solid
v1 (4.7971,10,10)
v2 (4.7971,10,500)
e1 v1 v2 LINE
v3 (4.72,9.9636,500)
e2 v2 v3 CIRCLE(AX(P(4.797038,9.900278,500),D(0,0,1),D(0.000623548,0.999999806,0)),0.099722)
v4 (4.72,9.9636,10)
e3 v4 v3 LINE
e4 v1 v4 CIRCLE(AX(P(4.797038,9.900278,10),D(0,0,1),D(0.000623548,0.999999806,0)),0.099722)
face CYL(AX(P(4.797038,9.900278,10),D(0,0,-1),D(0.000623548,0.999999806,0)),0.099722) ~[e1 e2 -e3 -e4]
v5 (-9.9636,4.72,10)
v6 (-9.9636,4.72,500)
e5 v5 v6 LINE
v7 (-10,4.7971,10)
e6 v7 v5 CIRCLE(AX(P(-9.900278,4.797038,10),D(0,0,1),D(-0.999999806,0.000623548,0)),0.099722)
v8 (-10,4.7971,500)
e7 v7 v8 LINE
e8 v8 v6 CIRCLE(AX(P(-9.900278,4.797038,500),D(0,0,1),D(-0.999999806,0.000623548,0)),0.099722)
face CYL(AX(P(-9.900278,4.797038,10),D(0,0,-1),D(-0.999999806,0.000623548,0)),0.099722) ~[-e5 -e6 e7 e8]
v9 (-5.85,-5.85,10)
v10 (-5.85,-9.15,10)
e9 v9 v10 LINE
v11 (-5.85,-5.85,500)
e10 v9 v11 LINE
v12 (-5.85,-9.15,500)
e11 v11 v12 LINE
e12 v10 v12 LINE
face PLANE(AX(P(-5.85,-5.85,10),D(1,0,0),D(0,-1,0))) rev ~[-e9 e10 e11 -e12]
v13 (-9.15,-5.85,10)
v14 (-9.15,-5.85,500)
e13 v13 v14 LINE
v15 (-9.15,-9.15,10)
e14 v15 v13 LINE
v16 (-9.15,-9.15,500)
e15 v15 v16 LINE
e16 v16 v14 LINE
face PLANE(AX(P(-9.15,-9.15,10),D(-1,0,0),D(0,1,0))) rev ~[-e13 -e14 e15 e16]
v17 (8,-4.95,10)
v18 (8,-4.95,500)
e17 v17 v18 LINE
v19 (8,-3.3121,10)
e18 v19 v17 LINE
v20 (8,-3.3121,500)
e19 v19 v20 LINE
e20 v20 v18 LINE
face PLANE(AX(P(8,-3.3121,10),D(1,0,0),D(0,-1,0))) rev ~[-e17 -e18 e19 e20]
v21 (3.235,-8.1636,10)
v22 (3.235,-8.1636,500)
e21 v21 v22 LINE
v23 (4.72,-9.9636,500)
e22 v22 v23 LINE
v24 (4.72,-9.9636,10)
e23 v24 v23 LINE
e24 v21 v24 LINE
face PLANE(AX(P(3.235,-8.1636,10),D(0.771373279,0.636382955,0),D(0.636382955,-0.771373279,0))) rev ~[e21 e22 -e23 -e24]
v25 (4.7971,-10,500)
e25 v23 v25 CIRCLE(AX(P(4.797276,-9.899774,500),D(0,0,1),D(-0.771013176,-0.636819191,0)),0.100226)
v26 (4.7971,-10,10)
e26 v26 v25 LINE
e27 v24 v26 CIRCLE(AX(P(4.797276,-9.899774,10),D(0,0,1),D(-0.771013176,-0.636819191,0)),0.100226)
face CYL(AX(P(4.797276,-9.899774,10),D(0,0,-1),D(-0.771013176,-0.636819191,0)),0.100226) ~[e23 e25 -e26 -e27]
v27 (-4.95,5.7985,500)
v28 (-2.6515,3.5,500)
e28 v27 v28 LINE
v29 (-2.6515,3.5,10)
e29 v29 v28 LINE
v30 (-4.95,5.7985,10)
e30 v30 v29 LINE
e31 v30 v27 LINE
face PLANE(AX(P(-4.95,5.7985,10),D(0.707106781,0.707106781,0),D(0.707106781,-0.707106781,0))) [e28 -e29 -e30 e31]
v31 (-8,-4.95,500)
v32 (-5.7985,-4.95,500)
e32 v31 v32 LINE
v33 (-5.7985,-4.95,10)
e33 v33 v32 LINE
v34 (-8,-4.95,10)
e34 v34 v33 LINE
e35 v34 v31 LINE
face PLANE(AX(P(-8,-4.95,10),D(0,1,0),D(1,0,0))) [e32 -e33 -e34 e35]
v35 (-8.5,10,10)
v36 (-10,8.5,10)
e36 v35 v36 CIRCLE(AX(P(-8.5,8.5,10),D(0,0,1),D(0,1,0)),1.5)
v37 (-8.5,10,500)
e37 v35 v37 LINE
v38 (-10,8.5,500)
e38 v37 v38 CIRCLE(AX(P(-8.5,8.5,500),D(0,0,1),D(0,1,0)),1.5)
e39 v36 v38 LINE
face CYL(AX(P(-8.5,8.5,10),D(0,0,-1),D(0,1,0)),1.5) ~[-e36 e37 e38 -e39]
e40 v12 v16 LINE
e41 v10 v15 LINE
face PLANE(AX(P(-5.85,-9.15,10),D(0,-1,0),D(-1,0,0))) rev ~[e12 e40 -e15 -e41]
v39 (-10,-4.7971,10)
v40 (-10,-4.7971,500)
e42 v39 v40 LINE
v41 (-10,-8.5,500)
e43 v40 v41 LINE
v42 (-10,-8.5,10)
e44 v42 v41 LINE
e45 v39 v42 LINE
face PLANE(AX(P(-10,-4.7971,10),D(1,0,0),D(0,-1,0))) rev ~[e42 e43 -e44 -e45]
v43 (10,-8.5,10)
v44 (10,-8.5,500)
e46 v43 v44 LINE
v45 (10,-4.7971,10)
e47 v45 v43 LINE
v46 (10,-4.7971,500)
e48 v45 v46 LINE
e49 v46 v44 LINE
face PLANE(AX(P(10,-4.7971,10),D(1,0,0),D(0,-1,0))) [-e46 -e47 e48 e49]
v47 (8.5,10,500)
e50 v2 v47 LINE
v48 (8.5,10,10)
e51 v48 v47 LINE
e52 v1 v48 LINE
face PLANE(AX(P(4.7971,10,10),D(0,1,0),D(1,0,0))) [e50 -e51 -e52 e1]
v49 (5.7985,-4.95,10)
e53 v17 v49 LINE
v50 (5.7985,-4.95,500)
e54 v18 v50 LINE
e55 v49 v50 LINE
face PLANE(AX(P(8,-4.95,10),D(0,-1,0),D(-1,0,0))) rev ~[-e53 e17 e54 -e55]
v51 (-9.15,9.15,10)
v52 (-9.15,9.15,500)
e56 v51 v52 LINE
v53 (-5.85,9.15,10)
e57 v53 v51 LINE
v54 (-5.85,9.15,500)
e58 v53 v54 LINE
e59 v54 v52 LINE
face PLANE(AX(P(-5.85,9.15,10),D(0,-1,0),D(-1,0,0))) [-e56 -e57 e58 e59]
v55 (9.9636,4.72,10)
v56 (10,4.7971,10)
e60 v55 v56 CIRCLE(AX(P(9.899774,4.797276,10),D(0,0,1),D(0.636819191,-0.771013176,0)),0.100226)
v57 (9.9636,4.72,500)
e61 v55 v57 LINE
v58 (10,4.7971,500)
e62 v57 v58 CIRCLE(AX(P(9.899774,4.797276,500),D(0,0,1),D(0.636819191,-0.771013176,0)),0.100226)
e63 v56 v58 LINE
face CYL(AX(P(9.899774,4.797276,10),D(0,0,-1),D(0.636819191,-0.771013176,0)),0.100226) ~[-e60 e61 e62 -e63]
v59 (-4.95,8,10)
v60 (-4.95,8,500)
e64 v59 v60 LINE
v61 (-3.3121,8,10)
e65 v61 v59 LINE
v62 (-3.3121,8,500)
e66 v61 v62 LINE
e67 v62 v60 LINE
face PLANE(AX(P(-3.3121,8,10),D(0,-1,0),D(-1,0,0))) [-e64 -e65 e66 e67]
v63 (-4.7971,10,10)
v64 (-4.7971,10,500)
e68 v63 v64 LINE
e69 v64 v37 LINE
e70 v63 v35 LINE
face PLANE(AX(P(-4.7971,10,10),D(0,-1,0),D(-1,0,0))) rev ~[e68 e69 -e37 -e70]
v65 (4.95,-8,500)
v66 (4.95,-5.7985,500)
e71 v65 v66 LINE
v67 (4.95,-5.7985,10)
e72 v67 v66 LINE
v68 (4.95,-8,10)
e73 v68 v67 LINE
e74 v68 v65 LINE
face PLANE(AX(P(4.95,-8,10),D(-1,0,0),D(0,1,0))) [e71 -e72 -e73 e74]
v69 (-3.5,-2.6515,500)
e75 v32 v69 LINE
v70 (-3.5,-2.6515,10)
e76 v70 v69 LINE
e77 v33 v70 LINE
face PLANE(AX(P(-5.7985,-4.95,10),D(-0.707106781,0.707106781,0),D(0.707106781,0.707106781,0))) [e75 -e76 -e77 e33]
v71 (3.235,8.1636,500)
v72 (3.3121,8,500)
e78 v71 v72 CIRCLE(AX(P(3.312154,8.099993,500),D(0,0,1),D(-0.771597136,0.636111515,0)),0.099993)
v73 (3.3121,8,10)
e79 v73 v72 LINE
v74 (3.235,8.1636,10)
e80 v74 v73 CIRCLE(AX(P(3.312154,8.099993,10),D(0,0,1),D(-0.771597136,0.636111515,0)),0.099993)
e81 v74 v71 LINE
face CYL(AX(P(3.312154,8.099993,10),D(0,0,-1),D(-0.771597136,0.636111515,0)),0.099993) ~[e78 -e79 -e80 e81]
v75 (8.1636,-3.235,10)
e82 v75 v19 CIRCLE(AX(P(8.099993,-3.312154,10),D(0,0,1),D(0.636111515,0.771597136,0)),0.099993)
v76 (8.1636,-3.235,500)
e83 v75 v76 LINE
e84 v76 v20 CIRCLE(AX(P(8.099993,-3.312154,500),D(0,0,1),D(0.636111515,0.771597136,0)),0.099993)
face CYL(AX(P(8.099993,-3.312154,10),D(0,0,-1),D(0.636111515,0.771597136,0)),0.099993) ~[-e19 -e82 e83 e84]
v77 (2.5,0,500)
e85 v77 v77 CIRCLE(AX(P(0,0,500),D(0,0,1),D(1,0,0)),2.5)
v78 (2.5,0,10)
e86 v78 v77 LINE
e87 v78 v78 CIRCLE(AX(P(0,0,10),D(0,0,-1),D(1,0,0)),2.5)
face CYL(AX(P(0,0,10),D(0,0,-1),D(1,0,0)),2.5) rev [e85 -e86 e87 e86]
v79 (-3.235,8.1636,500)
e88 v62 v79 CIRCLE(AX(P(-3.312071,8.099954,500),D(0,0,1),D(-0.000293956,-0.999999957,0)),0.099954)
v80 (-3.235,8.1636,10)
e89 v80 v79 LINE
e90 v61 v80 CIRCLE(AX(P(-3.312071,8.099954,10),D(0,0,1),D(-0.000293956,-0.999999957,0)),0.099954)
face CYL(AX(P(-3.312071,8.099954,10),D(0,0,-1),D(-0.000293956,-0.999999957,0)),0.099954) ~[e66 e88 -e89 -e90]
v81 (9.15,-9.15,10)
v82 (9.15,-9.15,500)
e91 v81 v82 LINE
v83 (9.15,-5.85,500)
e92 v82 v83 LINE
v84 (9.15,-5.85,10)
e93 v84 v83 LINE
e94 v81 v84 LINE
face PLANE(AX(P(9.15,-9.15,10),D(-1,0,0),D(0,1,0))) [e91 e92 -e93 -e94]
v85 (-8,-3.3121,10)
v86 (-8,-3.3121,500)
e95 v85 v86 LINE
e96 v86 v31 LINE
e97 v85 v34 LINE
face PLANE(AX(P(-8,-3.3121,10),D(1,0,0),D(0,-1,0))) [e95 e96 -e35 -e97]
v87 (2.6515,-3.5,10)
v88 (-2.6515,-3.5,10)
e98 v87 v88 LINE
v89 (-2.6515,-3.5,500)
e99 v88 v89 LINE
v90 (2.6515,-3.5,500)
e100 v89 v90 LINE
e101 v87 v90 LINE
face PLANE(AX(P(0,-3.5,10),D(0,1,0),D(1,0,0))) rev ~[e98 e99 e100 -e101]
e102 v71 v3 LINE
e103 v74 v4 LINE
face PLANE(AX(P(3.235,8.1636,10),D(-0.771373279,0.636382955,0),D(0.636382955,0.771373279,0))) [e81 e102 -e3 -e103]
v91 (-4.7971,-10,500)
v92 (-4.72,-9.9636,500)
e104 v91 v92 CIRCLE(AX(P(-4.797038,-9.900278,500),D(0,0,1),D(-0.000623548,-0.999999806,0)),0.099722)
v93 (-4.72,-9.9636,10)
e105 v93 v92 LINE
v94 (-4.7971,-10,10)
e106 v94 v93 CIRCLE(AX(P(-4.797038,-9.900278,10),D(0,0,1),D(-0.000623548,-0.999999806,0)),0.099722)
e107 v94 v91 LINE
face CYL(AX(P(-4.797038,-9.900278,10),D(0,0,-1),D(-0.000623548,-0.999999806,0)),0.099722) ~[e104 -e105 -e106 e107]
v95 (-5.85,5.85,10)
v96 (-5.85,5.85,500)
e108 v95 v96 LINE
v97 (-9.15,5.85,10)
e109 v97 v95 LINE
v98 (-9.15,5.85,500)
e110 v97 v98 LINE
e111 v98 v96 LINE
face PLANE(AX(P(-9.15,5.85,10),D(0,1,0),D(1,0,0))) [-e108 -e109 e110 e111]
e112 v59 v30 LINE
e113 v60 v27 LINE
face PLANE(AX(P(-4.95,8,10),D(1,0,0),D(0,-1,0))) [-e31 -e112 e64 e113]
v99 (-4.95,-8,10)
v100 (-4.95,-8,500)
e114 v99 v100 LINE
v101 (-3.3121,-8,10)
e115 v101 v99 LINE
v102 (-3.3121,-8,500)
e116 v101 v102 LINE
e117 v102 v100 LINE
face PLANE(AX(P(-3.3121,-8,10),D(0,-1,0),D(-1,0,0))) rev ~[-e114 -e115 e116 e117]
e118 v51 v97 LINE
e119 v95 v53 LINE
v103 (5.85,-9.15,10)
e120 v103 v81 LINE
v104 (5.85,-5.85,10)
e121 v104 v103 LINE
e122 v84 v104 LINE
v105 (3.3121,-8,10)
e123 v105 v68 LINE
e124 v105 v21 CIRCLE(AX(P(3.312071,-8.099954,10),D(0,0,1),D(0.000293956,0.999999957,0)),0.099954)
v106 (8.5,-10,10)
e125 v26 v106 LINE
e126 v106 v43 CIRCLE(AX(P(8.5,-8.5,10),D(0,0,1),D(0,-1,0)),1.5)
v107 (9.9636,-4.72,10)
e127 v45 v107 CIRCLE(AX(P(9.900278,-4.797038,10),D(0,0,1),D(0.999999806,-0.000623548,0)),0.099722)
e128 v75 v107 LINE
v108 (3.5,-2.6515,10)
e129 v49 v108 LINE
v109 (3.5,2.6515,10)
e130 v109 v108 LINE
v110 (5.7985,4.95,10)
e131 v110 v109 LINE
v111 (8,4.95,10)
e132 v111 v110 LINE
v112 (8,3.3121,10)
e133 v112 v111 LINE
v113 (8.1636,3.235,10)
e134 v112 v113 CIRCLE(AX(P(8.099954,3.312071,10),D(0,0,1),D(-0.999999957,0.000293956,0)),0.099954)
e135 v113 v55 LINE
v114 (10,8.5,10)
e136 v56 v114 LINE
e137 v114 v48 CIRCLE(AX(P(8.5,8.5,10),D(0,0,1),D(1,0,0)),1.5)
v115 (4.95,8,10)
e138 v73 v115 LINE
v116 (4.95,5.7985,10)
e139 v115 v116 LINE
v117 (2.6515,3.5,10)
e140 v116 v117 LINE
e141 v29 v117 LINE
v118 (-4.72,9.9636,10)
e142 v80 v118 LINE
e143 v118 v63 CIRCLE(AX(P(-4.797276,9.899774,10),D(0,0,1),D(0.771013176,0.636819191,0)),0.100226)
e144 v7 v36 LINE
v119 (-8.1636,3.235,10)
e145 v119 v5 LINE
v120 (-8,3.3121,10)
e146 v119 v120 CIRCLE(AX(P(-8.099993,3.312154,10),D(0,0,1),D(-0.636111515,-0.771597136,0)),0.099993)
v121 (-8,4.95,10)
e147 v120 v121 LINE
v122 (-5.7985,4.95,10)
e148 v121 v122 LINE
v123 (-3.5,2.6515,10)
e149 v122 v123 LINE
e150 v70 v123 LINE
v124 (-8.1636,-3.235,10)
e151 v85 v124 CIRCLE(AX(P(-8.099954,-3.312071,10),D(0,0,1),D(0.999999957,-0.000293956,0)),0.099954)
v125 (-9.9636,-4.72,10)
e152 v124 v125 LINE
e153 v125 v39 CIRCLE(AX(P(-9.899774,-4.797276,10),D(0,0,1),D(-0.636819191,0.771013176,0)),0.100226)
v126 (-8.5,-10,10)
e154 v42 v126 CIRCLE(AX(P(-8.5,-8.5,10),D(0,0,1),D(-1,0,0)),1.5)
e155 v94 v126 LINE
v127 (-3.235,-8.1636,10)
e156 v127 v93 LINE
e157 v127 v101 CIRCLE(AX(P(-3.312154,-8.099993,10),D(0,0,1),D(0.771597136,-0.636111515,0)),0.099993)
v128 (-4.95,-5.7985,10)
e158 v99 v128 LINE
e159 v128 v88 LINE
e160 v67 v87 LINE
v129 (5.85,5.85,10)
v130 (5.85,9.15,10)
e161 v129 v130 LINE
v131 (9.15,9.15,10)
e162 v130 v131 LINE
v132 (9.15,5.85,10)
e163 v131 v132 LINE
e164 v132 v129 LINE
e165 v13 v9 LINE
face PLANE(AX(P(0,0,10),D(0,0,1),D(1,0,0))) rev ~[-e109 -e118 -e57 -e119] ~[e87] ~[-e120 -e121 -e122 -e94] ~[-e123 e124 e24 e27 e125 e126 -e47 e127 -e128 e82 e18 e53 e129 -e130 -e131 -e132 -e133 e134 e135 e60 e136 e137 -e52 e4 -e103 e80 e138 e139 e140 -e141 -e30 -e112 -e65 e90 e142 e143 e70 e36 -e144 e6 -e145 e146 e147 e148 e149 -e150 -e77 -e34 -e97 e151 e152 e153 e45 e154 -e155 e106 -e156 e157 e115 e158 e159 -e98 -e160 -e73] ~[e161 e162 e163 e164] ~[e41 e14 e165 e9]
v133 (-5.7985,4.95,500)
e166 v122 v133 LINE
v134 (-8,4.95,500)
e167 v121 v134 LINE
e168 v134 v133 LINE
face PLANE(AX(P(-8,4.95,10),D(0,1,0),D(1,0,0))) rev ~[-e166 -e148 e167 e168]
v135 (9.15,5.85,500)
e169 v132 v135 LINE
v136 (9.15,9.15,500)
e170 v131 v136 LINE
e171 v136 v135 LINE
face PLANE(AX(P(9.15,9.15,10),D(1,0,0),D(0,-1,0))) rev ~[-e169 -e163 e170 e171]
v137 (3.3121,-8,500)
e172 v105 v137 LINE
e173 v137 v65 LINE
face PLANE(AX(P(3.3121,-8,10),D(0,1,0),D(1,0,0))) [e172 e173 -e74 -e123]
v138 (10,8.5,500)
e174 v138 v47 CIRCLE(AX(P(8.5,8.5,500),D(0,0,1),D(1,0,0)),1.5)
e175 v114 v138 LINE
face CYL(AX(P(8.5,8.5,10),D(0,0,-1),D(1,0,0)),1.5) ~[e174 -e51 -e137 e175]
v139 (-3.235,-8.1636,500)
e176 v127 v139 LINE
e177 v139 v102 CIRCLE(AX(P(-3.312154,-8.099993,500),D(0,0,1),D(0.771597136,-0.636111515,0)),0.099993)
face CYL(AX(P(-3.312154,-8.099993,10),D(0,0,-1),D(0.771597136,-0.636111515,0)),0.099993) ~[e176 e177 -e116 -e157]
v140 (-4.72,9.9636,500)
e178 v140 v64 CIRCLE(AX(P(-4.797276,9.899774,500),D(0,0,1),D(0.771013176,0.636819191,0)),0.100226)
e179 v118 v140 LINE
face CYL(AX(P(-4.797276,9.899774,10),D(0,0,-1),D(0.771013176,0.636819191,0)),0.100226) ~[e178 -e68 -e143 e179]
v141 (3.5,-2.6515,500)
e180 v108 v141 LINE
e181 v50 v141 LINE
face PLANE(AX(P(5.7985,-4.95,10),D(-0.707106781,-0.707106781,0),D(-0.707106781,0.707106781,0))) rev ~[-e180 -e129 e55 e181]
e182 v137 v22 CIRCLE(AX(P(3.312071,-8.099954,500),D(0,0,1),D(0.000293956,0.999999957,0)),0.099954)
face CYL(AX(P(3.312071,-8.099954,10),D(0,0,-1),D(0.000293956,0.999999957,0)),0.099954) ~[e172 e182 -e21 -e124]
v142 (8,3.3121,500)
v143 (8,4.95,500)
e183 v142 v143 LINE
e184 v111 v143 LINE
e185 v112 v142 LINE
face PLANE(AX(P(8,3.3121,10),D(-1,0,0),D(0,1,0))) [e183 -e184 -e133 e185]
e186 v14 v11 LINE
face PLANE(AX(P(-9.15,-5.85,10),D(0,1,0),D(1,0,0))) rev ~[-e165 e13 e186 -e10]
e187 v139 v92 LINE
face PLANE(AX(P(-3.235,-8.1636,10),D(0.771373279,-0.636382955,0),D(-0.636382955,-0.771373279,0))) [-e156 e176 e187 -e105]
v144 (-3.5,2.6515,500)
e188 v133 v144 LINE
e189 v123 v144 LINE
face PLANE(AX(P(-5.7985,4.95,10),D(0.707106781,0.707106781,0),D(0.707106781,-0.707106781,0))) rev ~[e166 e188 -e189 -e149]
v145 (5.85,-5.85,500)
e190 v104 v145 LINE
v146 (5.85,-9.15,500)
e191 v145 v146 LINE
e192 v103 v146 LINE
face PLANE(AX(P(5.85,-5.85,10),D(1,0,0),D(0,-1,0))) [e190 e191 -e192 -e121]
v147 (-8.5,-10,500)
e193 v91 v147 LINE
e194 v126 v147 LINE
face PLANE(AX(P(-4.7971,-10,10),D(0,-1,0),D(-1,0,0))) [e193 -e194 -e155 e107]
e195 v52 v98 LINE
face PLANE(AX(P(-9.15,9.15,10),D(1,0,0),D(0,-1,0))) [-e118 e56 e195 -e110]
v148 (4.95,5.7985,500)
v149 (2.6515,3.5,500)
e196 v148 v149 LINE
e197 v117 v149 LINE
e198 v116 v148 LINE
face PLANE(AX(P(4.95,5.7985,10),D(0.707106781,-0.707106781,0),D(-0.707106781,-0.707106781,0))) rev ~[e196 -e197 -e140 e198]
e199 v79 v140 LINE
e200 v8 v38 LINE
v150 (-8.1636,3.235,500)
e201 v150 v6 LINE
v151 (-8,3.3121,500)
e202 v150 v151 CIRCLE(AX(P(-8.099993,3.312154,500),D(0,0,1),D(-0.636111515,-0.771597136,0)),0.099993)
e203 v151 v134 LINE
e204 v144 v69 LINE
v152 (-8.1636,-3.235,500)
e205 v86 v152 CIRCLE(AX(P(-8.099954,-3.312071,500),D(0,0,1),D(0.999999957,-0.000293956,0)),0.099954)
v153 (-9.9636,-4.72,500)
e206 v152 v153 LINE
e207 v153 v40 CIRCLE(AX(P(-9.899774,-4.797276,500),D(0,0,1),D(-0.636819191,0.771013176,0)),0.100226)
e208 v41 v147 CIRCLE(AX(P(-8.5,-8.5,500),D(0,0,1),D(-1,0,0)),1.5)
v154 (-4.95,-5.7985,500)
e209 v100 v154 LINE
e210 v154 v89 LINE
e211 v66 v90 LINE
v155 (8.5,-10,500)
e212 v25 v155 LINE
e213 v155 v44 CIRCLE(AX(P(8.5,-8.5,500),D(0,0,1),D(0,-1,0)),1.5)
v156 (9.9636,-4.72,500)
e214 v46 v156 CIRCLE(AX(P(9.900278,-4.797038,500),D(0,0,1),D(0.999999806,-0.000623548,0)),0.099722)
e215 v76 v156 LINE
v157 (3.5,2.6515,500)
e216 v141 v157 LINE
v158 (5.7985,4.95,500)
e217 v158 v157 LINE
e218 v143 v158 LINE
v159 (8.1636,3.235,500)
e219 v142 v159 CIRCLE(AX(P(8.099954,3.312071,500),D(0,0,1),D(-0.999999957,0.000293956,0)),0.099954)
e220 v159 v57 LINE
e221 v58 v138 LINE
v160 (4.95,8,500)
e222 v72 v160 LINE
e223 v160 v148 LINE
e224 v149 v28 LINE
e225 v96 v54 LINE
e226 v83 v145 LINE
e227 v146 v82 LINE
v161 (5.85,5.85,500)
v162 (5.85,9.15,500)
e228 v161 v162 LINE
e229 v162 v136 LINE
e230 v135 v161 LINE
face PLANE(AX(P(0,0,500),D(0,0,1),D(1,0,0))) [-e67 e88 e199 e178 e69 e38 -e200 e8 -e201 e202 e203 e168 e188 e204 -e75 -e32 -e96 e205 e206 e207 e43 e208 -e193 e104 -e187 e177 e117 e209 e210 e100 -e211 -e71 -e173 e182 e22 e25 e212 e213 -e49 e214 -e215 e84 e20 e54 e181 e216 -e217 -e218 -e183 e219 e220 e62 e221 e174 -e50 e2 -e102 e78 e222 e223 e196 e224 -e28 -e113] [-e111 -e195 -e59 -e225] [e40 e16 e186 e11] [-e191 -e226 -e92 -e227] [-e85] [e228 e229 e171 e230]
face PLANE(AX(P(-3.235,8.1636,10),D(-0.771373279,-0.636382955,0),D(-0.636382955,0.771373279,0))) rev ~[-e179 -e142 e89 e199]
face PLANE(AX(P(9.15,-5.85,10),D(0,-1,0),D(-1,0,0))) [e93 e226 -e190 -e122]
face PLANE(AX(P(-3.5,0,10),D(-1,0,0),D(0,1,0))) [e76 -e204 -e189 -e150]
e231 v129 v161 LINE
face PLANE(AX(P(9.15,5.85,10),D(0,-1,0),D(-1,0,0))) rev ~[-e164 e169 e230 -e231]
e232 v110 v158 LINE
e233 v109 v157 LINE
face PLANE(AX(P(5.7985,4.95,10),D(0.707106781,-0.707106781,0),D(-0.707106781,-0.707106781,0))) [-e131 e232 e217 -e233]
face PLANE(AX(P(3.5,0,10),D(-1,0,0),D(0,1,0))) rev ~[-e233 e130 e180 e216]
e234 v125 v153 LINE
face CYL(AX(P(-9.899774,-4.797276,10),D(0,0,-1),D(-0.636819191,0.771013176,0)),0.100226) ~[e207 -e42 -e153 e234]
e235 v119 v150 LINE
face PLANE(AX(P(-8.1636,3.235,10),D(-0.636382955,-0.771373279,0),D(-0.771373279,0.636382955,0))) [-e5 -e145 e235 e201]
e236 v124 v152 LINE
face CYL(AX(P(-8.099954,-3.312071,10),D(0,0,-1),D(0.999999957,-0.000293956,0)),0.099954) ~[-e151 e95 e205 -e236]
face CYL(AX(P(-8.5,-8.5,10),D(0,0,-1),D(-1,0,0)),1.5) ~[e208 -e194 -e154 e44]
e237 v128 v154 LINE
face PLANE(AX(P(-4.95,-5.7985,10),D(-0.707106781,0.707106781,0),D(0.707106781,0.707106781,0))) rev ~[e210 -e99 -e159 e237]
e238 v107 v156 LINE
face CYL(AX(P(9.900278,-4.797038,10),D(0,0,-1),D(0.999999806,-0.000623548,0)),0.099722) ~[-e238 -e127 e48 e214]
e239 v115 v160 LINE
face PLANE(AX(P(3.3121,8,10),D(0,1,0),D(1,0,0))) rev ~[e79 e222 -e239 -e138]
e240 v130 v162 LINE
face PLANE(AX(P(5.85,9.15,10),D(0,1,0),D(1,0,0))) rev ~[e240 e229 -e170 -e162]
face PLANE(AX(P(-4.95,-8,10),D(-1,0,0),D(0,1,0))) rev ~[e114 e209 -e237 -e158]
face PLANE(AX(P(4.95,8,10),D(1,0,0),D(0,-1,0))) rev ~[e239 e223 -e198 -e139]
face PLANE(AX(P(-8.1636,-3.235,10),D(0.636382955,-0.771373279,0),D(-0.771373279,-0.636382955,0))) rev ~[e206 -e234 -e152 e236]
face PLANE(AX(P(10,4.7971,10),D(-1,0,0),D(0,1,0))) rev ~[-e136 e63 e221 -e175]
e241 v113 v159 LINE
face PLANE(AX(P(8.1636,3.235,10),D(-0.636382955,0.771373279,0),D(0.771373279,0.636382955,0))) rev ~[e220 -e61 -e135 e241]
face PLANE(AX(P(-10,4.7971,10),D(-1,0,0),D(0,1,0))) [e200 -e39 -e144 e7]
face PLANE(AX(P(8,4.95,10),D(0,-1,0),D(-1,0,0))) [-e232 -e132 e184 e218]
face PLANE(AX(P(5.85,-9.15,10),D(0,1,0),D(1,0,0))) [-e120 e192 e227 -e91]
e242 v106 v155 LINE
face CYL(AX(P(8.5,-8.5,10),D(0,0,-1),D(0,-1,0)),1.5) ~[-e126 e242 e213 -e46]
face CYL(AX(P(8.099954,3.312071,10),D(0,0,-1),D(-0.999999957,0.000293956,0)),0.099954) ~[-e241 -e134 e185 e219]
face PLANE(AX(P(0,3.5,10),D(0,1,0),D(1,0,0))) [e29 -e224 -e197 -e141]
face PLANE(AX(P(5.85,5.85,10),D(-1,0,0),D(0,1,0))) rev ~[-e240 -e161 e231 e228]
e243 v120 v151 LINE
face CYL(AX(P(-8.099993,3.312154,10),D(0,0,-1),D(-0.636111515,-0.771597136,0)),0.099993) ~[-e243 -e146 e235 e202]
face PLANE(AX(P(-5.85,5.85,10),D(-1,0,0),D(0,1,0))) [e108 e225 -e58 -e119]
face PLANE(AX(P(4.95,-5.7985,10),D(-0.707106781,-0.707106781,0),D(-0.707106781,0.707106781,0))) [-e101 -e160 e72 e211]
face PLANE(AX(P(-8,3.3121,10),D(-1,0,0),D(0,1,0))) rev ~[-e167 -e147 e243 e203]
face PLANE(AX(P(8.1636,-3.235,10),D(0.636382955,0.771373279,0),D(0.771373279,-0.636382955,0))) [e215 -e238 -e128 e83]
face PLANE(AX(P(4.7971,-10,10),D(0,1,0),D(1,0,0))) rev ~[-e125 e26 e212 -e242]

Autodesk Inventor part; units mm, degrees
ref_plane "Начальная плоскость" through (0, 0, 10) normal (0, 0, 1) x (1, 0, 0)
ref_plane "Конечная плоскость" through (0, 0, 500) normal (0, 0, 1) x (1, 0, 0)
sketch "Эскиз" plane through (0, 0, 0) normal (0, 0, 1) x (1, 0, 0)
  line L0 (-14.4349, 0) -> (14.4349, 0) projected
  line L1 (0, -14) -> (0, 14) projected
  line L2 (0, 0) -> (7.5, 7.5) construction
  circle A0 centre (7.5, 7.5) radius 1.65 construction
  line L3 (5.85, 9.15) -> (9.15, 9.15)
  line L4 (9.15, 9.15) -> (9.15, 5.85)
  line L5 (9.15, 5.85) -> (5.85, 5.85)
  line L6 (5.85, 5.85) -> (5.85, 9.15)
  line L7 (3.235, 8.1636) -> (4.72, 9.9636)
  line L8 (4.7971, 10) -> (8.5, 10)
  line L9 (3.3121, 8) -> (4.95, 8)
  line L10 (4.95, 8) -> (4.95, 5.7985)
  line L11 (4.95, 5.7985) -> (2.6515, 3.5)
  line L12 (0, 3.5) -> (2.6515, 3.5)
  circle A1 centre (0, 0) radius 2.5
  line L13 (8.1636, 3.235) -> (9.9636, 4.72)
  line L14 (10, 4.7971) -> (10, 8.5)
  line L15 (8, 3.3121) -> (8, 4.95)
  line L16 (8, 4.95) -> (5.7985, 4.95)
  line L17 (5.7985, 4.95) -> (3.5, 2.6515)
  line L18 (3.5, 0) -> (3.5, 2.6515)
  arc A2 (10, 8.5) -> (8.5, 10) centre (8.5, 8.5) ccw
  line L19 (0, 0) -> (-7.5, 7.5) construction
  circle A3 centre (-7.5, 7.5) radius 1.65 construction
  line L20 (-5.85, 9.15) -> (-9.15, 9.15)
  line L21 (-9.15, 9.15) -> (-9.15, 5.85)
  line L22 (-9.15, 5.85) -> (-5.85, 5.85)
  line L23 (-5.85, 5.85) -> (-5.85, 9.15)
  line L24 (-3.235, 8.1636) -> (-4.72, 9.9636)
  line L25 (-4.7971, 10) -> (-8.5, 10)
  line L26 (-3.3121, 8) -> (-4.95, 8)
  line L27 (-4.95, 8) -> (-4.95, 5.7985)
  line L28 (-4.95, 5.7985) -> (-2.6515, 3.5)
  line L29 (0, 3.5) -> (-2.6515, 3.5)
  line L30 (-3.5, 0) -> (-3.5, 2.6515)
  line L31 (-5.7985, 4.95) -> (-3.5, 2.6515)
  line L32 (-8, 4.95) -> (-5.7985, 4.95)
  line L33 (-8, 3.3121) -> (-8, 4.95)
  line L34 (-8.1636, 3.235) -> (-9.9636, 4.72)
  line L35 (-10, 4.7971) -> (-10, 8.5)
  arc A4 (-8.5, 10) -> (-10, 8.5) centre (-8.5, 8.5) ccw
  line L36 (0, 14) -> (0, -14)
  line L37 (0, 0) -> (7.5, -7.5) construction
  circle A5 centre (7.5, -7.5) radius 1.65 construction
  line L38 (5.85, -9.15) -> (9.15, -9.15)
  line L39 (9.15, -9.15) -> (9.15, -5.85)
  line L40 (9.15, -5.85) -> (5.85, -5.85)
  line L41 (5.85, -5.85) -> (5.85, -9.15)
  line L42 (3.235, -8.1636) -> (4.72, -9.9636)
  line L43 (4.7971, -10) -> (8.5, -10)
  line L44 (3.3121, -8) -> (4.95, -8)
  line L45 (4.95, -8) -> (4.95, -5.7985)
  line L46 (4.95, -5.7985) -> (2.6515, -3.5)
  line L47 (0, -3.5) -> (2.6515, -3.5)
  line L48 (3.5, 0) -> (3.5, -2.6515)
  line L49 (5.7985, -4.95) -> (3.5, -2.6515)
  line L50 (8, -4.95) -> (5.7985, -4.95)
  line L51 (8, -3.3121) -> (8, -4.95)
  line L52 (8.1636, -3.235) -> (9.9636, -4.72)
  line L53 (10, -4.7971) -> (10, -8.5)
  arc A6 (8.5, -10) -> (10, -8.5) centre (8.5, -8.5) ccw
  line L54 (0, 0) -> (-7.5, -7.5) construction
  line L55 (-4.95, -8) -> (-4.95, -5.7985)
  line L56 (-3.3121, -8) -> (-4.95, -8)
  line L57 (-5.7985, -4.95) -> (-3.5, -2.6515)
  line L58 (-4.95, -5.7985) -> (-2.6515, -3.5)
  line L59 (-3.5, 0) -> (-3.5, -2.6515)
  line L60 (0, -3.5) -> (-2.6515, -3.5)
  circle A7 centre (-7.5, -7.5) radius 1.65 construction
  line L61 (-5.85, -5.85) -> (-5.85, -9.15)
  line L62 (-5.85, -9.15) -> (-9.15, -9.15)
  line L63 (-9.15, -9.15) -> (-9.15, -5.85)
  line L64 (-9.15, -5.85) -> (-5.85, -5.85)
  line L65 (-3.235, -8.1636) -> (-4.72, -9.9636)
  line L66 (-8, -4.95) -> (-5.7985, -4.95)
  line L67 (-8, -3.3121) -> (-8, -4.95)
  line L68 (-8.1636, -3.235) -> (-9.9636, -4.72)
  line L69 (-4.7971, -10) -> (-8.5, -10)
  line L70 (-10, -4.7971) -> (-10, -8.5)
  arc A8 (-10, -8.5) -> (-8.5, -10) centre (-8.5, -8.5) ccw
  arc A9 (3.235, 8.1636) -> (3.3121, 8) centre (3.3121, 8.1) ccw
  arc A10 (4.7971, 10) -> (4.72, 9.9636) centre (4.7971, 9.9) ccw
  arc A11 (8, 3.3121) -> (8.1636, 3.235) centre (8.1, 3.3121) ccw
  arc A12 (9.9636, 4.72) -> (10, 4.7971) centre (9.9, 4.7971) ccw
  arc A13 (-3.3121, 8) -> (-3.235, 8.1636) centre (-3.3121, 8.1) ccw
  arc A14 (-4.72, 9.9636) -> (-4.7971, 10) centre (-4.7971, 9.9) ccw
  arc A15 (-8.1636, 3.235) -> (-8, 3.3121) centre (-8.1, 3.3121) ccw
  arc A16 (-10, 4.7971) -> (-9.9636, 4.72) centre (-9.9, 4.7971) ccw
  arc A17 (-8, -3.3121) -> (-8.1636, -3.235) centre (-8.1, -3.3121) ccw
  arc A18 (-9.9636, -4.72) -> (-10, -4.7971) centre (-9.9, -4.7971) ccw
  arc A19 (-3.235, -8.1636) -> (-3.3121, -8) centre (-3.3121, -8.1) ccw
  arc A20 (-4.7971, -10) -> (-4.72, -9.9636) centre (-4.7971, -9.9) ccw
  arc A21 (4.72, -9.9636) -> (4.7971, -10) centre (4.7971, -9.9) ccw
  arc A22 (3.3121, -8) -> (3.235, -8.1636) centre (3.3121, -8.1) ccw
  arc A23 (8.1636, -3.235) -> (8, -3.3121) centre (8.1, -3.3121) ccw
  arc A24 (10, -4.7971) -> (9.9636, -4.72) centre (9.9, -4.7971) ccw
  point P0 (3.1, 8)
  point P1 (4.75, 10)
  point P2 (7.5, 9.15)
  point P3 (8, 3.1)
  point P4 (10, 4.75)
  point P5 (7.5, 5.85)
  point P6 (9.15, 7.5)
  point P7 (-3.1, 8)
  point P8 (-4.75, 10)
  point P9 (-7.5, 9.15)
  point P10 (-8, 3.1)
  point P11 (-10, 4.75)
  point P12 (-7.5, 5.85)
  point P13 (-9.15, 7.5)
  point P14 (3.1, -8)
  point P15 (4.75, -10)
  point P16 (7.5, -9.15)
  point P17 (8, -3.1)
  point P18 (10, -4.75)
  point P19 (7.5, -5.85)
  point P20 (9.15, -7.5)
  point P21 (-3.1, -8)
  point P22 (-7.5, -5.85)
  point P23 (-7.5, -9.15)
  point P24 (-9.15, -7.5)
  point P25 (-4.75, -10)
  point P26 (-8, -3.1)
  point P27 (-10, -4.75)
  dimension "d0" = 45
  dimension "d1" = 3.3
  dimension "d2" = 1.5
  dimension "d3" = 1.2
  dimension "d4" = 5
  dimension "d5" = 6.5
  dimension "d6" = 15
  dimension "d7" = 20
  dimension "d8" = 9.9
  dimension "d9" = 9.5
  dimension "d10" = 6.2
  dimension "d11" = 2
  dimension "d18" = 0.1
  dimension "d19" = 0.1
extrude "Тело" add sketch "Эскиз" along normal up to surface (490 mm away) from surface at 10 contours A1 L1 L12 L11 L10 L9 A9 L7 A10 L8 A2 L14 A12 L13 A11 L15 L16 L17 L18 L0 | L0 L48 L49 L50 L51 A23 L52 A24 L53 A6 L43 A21 L42 A22 L44 L45 L46 L47 L1 A1 | A1 L0 L30 L31 L32 L33 A15 L34 A16 L35 A4 L25 A14 L24 A13 L26 L27 L28 L29 L1 | L1 L60 L58 L55 L56 A19 L65 A20 L69 A8 L70 A18 L68 A17 L67 L66 L57 L59 L0 A1
sketch "Эскиз2" plane through (0, 0, 0) normal (0, 0, 1) x (1, 0, 0)
  line L0 (0, 0) -> (10, 0)
ref_plane "РабПлоскость3" through (0, 0, 0) normal (0, -1, 0) x (1, 0, 0)
sketch "Эскиз3" plane through (0, 0, 0) normal (0, -1, 0) x (1, 0, 0)
  line L0 (-2, 10) -> (12, 10)
  line L1 (-2, 500) -> (12, 500)
  dimension "d25" = 490
ref_plane "РабПлоскость4" through (330, 0, 500) normal (0, 0, 1) x (1, 0, 0)
split "Разделение1" plane through (330, 0, 500) removes the side toward (0, 0, 1)
ref_plane "РабПлоскость5" through (300, 0, 10) normal (0, 0, -1) x (-1, 0, 0)
split "Разделение2" plane through (300, 0, 10) removes the side toward (0, 0, -1)
ref_plane "РабПлоскость6" through (0, 40, -10) normal (0, 0, -1) x (-1, 0, 0)
split "Разделение3" plane through (0, 40, -10) removes the side toward (0, 0, -1)
properties part number "короткая палка" material "Алюминий 6061"
